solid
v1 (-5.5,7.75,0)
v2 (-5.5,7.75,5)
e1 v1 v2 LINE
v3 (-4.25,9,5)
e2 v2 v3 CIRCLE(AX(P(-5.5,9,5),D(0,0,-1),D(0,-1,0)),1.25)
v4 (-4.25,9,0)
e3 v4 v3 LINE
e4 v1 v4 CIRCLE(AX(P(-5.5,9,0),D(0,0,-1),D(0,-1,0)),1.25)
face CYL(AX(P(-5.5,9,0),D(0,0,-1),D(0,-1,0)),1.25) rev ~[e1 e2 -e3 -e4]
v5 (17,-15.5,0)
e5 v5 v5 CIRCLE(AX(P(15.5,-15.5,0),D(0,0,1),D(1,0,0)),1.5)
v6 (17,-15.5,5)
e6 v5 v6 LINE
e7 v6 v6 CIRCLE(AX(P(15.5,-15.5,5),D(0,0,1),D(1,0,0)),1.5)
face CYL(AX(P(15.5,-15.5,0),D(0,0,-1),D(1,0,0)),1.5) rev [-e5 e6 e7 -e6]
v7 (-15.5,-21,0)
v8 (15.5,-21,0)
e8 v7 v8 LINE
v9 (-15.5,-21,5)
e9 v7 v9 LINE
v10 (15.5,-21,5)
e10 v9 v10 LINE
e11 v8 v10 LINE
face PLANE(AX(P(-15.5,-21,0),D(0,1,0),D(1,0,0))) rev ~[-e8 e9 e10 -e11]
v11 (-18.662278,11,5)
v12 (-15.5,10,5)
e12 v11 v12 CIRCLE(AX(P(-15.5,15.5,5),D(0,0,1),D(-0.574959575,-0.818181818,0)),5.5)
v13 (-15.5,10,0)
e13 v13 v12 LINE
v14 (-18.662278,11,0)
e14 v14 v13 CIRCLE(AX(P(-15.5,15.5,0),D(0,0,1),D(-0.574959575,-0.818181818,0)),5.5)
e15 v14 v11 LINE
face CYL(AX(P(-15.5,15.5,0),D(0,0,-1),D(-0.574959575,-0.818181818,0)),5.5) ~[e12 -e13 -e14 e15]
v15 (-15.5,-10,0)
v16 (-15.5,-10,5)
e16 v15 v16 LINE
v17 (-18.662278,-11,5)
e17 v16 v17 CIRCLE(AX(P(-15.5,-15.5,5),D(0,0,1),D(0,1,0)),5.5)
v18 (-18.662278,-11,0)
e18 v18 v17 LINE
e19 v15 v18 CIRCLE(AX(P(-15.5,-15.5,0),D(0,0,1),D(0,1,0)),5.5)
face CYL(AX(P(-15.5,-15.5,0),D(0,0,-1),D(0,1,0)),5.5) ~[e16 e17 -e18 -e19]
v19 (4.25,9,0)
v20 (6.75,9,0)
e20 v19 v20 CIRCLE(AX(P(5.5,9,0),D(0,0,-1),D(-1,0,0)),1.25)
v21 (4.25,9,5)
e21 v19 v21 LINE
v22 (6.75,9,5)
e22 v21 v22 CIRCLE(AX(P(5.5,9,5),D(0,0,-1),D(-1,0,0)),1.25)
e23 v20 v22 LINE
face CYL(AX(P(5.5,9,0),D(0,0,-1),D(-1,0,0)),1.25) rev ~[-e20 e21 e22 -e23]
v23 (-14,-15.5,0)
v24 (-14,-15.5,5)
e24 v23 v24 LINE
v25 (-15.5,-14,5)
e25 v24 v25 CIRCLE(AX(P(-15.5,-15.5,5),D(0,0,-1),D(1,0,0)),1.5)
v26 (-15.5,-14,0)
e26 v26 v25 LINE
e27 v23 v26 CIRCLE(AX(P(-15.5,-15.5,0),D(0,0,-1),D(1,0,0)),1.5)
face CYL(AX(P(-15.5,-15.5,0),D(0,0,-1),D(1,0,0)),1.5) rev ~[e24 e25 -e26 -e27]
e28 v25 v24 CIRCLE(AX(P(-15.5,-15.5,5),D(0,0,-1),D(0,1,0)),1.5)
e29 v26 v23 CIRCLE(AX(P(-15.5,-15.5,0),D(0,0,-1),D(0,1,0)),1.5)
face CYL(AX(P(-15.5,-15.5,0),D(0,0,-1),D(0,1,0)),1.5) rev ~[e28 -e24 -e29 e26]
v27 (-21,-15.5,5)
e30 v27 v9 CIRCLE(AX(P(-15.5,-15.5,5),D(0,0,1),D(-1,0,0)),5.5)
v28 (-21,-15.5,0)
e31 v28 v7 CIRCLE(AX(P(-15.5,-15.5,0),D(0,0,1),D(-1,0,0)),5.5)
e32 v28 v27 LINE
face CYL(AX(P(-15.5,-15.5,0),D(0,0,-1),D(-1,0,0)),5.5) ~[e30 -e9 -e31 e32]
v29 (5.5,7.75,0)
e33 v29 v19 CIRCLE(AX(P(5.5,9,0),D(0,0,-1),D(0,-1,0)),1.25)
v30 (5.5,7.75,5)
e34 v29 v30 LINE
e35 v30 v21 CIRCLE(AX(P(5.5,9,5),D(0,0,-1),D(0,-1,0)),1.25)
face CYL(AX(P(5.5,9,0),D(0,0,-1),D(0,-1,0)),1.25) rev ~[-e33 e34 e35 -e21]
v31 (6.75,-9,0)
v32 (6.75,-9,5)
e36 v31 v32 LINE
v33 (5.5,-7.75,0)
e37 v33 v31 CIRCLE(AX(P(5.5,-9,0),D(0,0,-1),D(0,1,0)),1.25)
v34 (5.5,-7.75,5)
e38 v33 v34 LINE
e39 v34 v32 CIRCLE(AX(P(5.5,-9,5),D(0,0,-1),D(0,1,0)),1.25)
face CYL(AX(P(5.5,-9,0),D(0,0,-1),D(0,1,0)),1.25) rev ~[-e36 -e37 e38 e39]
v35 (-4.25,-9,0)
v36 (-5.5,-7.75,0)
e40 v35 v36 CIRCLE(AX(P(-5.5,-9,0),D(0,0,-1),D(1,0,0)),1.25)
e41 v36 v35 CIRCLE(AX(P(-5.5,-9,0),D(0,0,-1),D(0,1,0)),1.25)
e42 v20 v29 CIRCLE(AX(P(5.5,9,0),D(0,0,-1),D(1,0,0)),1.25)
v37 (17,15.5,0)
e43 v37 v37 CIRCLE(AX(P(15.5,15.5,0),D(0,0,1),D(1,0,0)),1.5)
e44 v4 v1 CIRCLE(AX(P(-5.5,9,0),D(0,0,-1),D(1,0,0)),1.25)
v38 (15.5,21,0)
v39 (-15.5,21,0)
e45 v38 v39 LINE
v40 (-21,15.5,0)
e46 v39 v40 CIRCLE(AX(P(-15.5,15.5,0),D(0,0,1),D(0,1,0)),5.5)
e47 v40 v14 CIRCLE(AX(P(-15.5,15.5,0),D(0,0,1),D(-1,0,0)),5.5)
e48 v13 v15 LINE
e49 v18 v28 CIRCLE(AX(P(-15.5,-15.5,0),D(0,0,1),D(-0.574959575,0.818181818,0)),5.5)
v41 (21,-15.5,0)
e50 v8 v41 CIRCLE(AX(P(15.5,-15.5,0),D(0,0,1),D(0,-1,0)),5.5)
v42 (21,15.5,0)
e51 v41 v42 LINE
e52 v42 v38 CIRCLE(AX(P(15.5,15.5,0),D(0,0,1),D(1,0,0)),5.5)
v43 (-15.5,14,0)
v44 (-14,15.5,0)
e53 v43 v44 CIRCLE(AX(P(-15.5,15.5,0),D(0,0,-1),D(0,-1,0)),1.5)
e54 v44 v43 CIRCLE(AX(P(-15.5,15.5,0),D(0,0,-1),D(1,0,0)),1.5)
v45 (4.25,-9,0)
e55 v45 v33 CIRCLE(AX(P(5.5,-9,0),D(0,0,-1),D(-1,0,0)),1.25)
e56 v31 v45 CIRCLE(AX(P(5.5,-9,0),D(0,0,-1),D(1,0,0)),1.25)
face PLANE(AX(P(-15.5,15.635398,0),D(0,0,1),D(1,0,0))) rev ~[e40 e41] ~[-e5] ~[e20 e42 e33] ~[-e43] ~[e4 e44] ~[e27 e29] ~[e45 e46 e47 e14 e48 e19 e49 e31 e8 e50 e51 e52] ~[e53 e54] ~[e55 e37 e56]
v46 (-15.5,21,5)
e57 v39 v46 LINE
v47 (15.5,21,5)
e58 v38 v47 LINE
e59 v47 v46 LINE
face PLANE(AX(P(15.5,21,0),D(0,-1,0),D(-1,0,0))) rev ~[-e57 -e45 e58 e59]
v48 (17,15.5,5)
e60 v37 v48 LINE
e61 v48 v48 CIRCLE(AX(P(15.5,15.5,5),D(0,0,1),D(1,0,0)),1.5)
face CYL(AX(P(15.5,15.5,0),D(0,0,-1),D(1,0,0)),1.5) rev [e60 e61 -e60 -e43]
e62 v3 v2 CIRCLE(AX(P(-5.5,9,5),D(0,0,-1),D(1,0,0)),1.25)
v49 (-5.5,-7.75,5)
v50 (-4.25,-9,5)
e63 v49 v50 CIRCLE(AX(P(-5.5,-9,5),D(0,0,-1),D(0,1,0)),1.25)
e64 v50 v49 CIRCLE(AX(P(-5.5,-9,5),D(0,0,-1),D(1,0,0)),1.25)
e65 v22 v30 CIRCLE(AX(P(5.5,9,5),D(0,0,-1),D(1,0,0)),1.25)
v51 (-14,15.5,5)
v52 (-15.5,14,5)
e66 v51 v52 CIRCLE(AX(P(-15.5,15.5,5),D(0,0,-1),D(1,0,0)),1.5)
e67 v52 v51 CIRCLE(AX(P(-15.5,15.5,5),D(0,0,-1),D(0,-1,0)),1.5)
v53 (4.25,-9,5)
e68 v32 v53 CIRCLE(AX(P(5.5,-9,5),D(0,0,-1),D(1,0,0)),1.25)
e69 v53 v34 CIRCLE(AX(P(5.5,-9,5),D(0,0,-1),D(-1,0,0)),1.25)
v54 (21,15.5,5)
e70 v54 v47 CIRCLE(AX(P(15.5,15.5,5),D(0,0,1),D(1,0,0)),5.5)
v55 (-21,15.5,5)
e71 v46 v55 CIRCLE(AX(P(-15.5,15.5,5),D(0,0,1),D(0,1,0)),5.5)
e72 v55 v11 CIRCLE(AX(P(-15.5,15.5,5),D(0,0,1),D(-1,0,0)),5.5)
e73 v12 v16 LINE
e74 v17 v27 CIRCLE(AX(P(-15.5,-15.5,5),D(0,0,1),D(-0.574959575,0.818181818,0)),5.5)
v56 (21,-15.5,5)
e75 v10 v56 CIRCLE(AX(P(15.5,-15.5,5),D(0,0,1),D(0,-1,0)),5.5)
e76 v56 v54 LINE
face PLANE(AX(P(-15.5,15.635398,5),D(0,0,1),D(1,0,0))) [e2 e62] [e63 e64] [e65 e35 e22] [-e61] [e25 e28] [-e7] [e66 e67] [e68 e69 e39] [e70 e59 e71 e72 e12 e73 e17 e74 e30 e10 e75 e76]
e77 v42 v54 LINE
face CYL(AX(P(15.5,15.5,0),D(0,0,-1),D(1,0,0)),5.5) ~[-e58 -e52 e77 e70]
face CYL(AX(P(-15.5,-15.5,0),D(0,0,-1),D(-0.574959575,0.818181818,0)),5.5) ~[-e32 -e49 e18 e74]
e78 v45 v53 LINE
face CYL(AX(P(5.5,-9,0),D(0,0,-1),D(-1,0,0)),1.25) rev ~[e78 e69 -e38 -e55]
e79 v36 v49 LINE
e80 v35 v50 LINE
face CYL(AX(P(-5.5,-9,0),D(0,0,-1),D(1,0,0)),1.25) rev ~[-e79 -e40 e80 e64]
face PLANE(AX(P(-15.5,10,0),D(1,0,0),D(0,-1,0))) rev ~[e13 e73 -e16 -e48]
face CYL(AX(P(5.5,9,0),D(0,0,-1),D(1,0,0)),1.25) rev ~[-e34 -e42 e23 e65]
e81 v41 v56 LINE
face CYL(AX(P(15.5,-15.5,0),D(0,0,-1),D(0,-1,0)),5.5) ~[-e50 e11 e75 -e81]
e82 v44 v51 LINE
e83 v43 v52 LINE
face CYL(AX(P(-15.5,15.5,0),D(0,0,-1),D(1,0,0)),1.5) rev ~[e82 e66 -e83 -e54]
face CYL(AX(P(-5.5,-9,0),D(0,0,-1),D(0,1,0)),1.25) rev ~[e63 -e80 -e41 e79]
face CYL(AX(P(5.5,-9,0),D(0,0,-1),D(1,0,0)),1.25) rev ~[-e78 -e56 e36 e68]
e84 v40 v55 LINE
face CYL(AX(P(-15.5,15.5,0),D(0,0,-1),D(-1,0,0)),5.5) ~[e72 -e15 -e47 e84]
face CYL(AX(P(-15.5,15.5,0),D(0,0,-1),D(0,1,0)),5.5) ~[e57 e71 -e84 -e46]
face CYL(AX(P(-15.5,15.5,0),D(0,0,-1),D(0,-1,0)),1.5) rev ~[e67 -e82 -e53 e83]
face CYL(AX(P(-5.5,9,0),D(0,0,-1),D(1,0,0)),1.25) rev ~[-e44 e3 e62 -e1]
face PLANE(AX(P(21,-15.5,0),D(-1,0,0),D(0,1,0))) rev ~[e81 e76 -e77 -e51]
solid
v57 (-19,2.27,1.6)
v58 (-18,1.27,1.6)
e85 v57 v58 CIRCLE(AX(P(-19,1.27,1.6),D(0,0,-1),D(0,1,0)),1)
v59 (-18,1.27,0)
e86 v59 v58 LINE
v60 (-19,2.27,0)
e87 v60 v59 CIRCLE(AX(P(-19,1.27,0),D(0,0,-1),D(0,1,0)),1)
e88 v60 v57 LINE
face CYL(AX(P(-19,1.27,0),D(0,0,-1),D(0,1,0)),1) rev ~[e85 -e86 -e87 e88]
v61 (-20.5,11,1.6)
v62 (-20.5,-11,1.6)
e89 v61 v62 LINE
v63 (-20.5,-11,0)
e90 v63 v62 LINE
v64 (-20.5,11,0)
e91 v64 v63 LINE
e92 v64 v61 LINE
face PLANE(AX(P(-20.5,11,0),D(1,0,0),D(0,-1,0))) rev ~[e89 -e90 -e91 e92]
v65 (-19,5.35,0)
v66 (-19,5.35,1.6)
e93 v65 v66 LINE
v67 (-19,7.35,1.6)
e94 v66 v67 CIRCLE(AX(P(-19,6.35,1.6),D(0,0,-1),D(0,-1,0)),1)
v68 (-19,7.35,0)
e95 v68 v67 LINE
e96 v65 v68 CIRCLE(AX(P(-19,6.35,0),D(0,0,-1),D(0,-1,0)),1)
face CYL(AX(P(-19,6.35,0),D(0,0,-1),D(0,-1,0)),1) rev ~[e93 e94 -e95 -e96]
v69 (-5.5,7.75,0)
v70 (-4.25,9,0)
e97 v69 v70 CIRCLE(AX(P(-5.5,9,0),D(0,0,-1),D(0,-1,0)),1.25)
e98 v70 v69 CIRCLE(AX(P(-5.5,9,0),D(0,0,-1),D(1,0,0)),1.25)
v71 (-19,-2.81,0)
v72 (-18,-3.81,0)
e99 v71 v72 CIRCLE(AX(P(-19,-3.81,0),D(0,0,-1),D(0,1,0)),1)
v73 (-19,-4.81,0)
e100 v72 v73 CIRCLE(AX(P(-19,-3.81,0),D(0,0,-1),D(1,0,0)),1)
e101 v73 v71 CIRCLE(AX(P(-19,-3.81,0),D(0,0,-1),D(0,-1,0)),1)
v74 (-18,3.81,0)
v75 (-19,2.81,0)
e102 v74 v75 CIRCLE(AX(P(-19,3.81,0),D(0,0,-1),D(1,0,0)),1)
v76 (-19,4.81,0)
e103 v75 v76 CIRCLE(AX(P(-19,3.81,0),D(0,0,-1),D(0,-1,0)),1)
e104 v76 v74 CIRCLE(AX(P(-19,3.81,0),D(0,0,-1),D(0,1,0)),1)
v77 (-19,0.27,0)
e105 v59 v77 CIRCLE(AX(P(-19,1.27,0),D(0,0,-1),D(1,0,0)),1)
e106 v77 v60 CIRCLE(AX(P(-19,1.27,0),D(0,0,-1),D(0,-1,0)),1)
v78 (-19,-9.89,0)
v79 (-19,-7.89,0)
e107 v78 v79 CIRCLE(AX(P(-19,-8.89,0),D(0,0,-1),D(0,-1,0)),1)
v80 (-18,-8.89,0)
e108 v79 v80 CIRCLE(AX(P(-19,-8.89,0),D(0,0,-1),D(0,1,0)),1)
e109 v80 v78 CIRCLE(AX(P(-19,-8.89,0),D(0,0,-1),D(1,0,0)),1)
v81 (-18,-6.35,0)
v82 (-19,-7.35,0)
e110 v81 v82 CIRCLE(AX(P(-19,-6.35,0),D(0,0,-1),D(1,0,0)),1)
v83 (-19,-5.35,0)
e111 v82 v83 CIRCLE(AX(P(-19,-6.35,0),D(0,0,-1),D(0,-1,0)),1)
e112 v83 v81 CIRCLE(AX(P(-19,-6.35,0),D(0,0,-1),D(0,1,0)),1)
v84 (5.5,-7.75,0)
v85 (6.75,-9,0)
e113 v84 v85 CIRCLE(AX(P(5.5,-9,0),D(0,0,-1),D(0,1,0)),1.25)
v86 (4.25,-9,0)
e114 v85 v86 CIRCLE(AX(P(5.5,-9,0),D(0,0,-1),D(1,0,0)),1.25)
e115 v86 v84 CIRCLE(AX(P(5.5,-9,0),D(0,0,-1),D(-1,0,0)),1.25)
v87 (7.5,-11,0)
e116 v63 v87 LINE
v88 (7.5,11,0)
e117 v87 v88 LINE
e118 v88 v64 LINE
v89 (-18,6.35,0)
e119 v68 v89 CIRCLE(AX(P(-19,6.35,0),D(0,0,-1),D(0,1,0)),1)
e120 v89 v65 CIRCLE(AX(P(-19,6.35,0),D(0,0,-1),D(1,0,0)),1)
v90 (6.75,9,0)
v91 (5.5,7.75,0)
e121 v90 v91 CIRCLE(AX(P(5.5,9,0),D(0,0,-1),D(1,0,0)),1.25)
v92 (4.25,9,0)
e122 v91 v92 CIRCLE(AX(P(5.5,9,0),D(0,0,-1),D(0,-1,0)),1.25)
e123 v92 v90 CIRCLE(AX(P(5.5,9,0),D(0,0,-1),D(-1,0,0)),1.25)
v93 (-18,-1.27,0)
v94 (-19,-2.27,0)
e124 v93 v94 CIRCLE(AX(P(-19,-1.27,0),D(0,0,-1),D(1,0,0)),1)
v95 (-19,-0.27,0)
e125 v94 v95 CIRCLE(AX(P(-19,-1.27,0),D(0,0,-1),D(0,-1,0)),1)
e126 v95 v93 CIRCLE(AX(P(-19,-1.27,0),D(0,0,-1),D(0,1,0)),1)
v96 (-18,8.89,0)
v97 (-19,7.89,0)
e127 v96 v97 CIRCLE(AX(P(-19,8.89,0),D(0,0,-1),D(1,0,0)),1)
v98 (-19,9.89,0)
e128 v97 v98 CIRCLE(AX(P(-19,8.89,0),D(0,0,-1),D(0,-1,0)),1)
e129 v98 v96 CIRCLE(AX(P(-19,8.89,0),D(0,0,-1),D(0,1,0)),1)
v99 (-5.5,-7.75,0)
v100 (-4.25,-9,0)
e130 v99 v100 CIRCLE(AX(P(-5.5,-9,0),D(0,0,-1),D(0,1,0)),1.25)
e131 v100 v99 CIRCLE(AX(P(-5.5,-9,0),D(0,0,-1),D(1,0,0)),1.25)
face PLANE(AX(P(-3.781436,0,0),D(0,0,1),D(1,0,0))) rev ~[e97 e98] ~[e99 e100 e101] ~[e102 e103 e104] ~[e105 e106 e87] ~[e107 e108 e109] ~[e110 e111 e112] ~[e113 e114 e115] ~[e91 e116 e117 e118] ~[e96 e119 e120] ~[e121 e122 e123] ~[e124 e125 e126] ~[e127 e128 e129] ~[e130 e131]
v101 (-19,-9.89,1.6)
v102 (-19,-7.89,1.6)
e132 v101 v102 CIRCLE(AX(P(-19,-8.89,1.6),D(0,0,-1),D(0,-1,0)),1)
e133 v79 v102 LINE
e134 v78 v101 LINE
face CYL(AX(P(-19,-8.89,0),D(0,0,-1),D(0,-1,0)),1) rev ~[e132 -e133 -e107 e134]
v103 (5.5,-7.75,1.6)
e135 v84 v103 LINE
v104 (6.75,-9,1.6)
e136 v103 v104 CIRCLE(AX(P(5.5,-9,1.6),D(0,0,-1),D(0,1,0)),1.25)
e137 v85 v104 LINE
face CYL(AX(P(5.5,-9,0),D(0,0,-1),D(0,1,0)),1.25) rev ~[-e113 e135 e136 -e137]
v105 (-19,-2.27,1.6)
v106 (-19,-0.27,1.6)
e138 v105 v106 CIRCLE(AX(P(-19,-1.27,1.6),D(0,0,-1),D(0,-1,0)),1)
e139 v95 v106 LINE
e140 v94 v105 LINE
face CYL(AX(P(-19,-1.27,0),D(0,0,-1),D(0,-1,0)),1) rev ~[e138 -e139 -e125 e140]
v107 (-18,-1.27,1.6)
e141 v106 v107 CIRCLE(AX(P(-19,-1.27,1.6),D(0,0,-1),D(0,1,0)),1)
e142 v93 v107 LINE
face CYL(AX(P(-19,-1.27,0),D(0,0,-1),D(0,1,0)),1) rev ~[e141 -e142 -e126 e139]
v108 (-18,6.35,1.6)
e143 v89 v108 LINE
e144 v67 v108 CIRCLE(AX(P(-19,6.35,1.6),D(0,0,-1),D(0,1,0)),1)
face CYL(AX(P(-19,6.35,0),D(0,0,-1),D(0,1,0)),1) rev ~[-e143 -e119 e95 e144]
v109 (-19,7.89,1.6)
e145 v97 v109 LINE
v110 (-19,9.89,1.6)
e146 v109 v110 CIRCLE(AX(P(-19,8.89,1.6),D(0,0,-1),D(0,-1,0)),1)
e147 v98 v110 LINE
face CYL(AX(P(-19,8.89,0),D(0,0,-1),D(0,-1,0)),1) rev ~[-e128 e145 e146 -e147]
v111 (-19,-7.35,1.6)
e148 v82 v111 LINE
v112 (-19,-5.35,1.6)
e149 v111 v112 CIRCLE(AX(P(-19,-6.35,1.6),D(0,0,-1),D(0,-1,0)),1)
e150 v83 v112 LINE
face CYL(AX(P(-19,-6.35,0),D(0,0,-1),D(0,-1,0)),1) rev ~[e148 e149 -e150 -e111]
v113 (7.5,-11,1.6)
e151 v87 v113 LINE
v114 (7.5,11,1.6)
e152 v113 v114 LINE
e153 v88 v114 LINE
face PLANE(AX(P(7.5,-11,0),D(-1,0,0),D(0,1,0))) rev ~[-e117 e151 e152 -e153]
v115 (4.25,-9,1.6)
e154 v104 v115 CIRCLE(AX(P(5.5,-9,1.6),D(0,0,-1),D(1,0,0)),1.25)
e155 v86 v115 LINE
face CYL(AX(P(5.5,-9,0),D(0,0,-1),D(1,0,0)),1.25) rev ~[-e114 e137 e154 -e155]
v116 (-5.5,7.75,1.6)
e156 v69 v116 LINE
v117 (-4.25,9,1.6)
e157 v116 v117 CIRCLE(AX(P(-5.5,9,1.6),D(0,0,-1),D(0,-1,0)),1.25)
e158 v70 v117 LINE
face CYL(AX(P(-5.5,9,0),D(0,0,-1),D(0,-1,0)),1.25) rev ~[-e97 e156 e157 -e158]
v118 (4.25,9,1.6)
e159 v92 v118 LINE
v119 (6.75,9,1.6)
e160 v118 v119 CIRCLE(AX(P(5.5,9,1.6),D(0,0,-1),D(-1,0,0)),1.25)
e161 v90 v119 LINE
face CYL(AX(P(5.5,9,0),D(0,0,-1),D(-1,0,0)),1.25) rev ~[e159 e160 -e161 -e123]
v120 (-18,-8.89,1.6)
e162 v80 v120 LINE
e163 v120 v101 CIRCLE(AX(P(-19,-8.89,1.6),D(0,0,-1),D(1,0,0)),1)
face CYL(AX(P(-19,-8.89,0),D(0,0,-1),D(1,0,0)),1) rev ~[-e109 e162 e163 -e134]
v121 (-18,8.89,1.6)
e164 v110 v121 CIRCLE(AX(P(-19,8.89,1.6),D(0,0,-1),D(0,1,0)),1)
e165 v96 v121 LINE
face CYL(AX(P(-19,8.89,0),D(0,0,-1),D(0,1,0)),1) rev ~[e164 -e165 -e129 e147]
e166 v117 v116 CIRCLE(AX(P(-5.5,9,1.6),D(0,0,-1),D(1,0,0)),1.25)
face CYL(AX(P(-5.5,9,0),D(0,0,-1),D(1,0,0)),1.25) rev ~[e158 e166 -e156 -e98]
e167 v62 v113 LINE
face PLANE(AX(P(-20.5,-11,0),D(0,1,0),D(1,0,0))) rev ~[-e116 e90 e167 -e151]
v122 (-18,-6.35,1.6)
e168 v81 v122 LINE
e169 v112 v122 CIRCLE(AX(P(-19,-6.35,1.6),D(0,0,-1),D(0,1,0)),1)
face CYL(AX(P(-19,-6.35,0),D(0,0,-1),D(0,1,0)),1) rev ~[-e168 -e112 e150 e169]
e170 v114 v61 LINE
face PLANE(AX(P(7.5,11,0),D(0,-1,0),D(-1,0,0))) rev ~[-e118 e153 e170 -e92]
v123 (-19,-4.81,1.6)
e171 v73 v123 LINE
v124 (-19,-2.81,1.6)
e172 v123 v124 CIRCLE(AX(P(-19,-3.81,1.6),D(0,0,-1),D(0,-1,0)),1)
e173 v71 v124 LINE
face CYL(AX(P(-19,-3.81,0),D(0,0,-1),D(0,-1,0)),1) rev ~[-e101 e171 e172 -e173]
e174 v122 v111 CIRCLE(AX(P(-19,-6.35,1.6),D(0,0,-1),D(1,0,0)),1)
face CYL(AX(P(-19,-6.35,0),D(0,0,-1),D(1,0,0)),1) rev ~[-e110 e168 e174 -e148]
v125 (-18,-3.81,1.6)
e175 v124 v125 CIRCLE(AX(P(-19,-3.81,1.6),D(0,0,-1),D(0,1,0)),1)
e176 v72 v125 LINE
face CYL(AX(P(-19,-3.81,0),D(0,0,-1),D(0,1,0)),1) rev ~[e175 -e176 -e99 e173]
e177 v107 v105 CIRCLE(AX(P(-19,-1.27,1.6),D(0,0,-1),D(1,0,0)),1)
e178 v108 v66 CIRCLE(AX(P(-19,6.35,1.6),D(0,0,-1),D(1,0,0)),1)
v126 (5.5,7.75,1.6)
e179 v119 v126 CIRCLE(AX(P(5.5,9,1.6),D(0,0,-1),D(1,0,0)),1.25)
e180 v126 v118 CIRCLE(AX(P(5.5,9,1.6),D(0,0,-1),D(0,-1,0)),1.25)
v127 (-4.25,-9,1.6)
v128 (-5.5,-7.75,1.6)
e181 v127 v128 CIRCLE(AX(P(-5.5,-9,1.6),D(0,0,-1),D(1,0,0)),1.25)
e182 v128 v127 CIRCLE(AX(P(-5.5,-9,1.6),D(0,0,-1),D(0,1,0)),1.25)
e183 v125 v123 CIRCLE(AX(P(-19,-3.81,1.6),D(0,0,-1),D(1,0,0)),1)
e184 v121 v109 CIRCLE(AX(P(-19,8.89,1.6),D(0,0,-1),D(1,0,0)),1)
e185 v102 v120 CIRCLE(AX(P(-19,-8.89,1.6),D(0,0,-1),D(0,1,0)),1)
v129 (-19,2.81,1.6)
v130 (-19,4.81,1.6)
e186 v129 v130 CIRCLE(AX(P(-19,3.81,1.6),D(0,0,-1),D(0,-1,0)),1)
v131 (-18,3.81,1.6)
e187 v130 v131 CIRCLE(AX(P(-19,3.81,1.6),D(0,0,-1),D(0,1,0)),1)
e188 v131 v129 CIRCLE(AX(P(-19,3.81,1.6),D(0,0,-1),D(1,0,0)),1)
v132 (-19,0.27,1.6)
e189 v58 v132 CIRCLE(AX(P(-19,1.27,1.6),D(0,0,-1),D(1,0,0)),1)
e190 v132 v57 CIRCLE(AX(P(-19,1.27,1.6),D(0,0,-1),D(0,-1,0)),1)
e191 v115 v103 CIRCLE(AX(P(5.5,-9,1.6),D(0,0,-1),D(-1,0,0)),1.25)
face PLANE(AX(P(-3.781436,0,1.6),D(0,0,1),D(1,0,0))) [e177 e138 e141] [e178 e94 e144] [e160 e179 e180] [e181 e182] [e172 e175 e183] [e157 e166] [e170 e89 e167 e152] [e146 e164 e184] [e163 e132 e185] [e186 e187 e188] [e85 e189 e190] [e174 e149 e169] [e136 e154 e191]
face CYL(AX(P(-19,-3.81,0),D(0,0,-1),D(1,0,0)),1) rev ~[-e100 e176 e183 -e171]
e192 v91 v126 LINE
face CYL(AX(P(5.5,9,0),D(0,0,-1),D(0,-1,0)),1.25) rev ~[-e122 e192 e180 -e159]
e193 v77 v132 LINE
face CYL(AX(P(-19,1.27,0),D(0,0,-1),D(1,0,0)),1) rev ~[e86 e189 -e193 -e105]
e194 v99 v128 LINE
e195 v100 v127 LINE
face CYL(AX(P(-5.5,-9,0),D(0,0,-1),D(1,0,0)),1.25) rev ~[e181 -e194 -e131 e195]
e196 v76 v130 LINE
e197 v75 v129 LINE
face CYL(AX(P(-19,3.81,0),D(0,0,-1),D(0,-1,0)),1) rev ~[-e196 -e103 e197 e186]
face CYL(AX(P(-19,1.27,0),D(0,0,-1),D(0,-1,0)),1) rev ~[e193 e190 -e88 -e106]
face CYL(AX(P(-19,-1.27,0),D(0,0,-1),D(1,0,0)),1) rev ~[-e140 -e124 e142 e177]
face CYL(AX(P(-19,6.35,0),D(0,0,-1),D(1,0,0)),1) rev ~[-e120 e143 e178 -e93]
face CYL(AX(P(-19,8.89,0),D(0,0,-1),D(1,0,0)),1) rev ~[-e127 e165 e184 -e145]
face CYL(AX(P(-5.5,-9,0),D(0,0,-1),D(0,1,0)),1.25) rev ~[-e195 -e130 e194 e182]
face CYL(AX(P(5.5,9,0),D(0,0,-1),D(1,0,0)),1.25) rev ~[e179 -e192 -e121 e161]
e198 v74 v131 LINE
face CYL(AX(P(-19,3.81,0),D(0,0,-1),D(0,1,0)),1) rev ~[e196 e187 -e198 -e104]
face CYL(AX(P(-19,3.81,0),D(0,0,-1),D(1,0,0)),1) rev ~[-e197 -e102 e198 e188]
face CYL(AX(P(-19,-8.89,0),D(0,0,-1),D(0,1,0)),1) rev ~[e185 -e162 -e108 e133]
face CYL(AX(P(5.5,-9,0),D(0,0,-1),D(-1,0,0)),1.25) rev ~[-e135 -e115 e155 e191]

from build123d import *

# Parameters (mm, degrees)
F0_R     = 1.5
F1_DEPTH = 5
F2_DEPTH = 1.6


with BuildPart() as f1:
    # F0 (on Top) → F1 (new body)
    with BuildSketch(Plane.XY):
        with BuildLine():
            ThreePointArc((-15.5, 21), (-19.3890872965, 19.3890872965), (-21, 15.5))
            ThreePointArc((-21, 15.5), (-20.3807031835, 12.9645046964), (-18.6622776602, 11))
            Line((-18.6622776602, 11), (-15.5, 11))
            Line((-15.5, 11), (-12.3377223398, 11))
            ThreePointArc((-12.3377223398, 11), (-10.6192968165, 12.9645046964), (-10, 15.5))
            ThreePointArc((-10, 15.5), (-11.6109127035, 19.3890872965), (-15.5, 21))
        make_face()
        with BuildLine():
            ThreePointArc((-14, 15.5), (-14.4393398282, 14.4393398282), (-15.5, 14))
            ThreePointArc((-15.5, 14), (-16.5606601718, 16.5606601718), (-14, 15.5))
        make_face(mode=Mode.SUBTRACT)
        with BuildLine():
            ThreePointArc((-21, -15.5), (-19.3890872965, -19.3890872965), (-15.5, -21))
            ThreePointArc((-15.5, -21), (-11.6109127035, -19.3890872965), (-10, -15.5))
            ThreePointArc((-10, -15.5), (-10.6192968165, -12.9645046964), (-12.3377223398, -11))
            Line((-12.3377223398, -11), (-15.5, -11))
            Line((-15.5, -11), (-18.6622776602, -11))
            ThreePointArc((-18.6622776602, -11), (-20.3807031835, -12.9645046964), (-21, -15.5))
        make_face()
        with BuildLine():
            ThreePointArc((-14, -15.5), (-16.5606601718, -16.5606601718), (-15.5, -14))
            ThreePointArc((-15.5, -14), (-14.4393398282, -14.4393398282), (-14, -15.5))
        make_face(mode=Mode.SUBTRACT)
        with BuildLine():
            Line((-15.5, -21), (15.5, -21))
            ThreePointArc((15.5, -21), (19.3890872965, -19.3890872965), (21, -15.5))
            Line((21, -15.5), (21, 15.5))
            ThreePointArc((21, 15.5), (19.3890872965, 19.3890872965), (15.5, 21))
            Line((15.5, 21), (-15.5, 21))
            ThreePointArc((-15.5, 21), (-11.6109127035, 19.3890872965), (-10, 15.5))
            ThreePointArc((-10, 15.5), (-10.6192968165, 12.9645046964), (-12.3377223398, 11))
            Line((-12.3377223398, 11), (7.5, 11))
            Line((7.5, 11), (7.5, -11))
            Line((7.5, -11), (-12.3377223398, -11))
            ThreePointArc((-12.3377223398, -11), (-10.6192968165, -12.9645046964), (-10, -15.5))
            ThreePointArc((-10, -15.5), (-11.6109127035, -19.3890872965), (-15.5, -21))
        make_face()
        with Locations((15.5, -15.5)):
            Circle(F0_R, mode=Mode.SUBTRACT)
        with Locations((15.5, 15.5)):
            Circle(F0_R, mode=Mode.SUBTRACT)
        with BuildLine():
            ThreePointArc((-15.5, -10), (-13.8416876048, -10.2559557591), (-12.3377223398, -11))
            Line((-12.3377223398, -11), (7.5, -11))
            Line((7.5, -11), (7.5, 11))
            Line((7.5, 11), (-12.3377223398, 11))
            ThreePointArc((-12.3377223398, 11), (-13.8416876048, 10.2559557591), (-15.5, 10))
            Line((-15.5, 10), (-15.5, -10))
        make_face()
        with BuildLine():
            ThreePointArc((-5.5, 7.75), (-6.3838834765, 9.8838834765), (-4.25, 9))
            Line((-4.25, 9), (4.25, 9))
            ThreePointArc((4.25, 9), (5.5, 10.25), (6.75, 9))
            ThreePointArc((6.75, 9), (6.3838834765, 8.1161165235), (5.5, 7.75))
            Line((5.5, 7.75), (5.5, -7.75))
            ThreePointArc((5.5, -7.75), (6.3838834765, -8.1161165235), (6.75, -9))
            ThreePointArc((6.75, -9), (5.5, -10.25), (4.25, -9))
            Line((4.25, -9), (-4.25, -9))
            ThreePointArc((-4.25, -9), (-6.3838834765, -9.8838834765), (-5.5, -7.75))
            Line((-5.5, -7.75), (-5.5, 7.75))
        make_face(mode=Mode.SUBTRACT)
        with BuildLine():
            Line((-12.3377223398, 11), (-15.5, 11))
            Line((-15.5, 11), (-15.5, 10))
            ThreePointArc((-15.5, 10), (-13.8416876048, 10.2559557591), (-12.3377223398, 11))
        make_face()
        with BuildLine():
            Line((-15.5, -11), (-12.3377223398, -11))
            ThreePointArc((-12.3377223398, -11), (-13.8416876048, -10.2559557591), (-15.5, -10))
            Line((-15.5, -10), (-15.5, -11))
        make_face()
        with BuildLine():
            Line((-15.5, 11), (-18.6622776602, 11))
            ThreePointArc((-18.6622776602, 11), (-17.1583123952, 10.2559557591), (-15.5, 10))
            Line((-15.5, 10), (-15.5, 11))
        make_face()
        with BuildLine():
            ThreePointArc((-15.5, -10), (-17.1583123952, -10.2559557591), (-18.6622776602, -11))
            Line((-18.6622776602, -11), (-15.5, -11))
            Line((-15.5, -11), (-15.5, -10))
        make_face()
        with BuildLine():
            Line((4.25, 9), (-4.25, 9))
            ThreePointArc((-4.25, 9), (-4.6161165235, 8.1161165235), (-5.5, 7.75))
            Line((-5.5, 7.75), (-5.5, -7.75))
            ThreePointArc((-5.5, -7.75), (-4.6161165235, -8.1161165235), (-4.25, -9))
            Line((-4.25, -9), (4.25, -9))
            ThreePointArc((4.25, -9), (4.6161165235, -8.1161165235), (5.5, -7.75))
            Line((5.5, -7.75), (5.5, 7.75))
            ThreePointArc((5.5, 7.75), (4.6161165235, 8.1161165235), (4.25, 9))
        make_face()
    extrude(amount=F1_DEPTH)


with BuildPart() as f2:
    # F0 (on Top) → F2 (new body)
    with BuildSketch(Plane.XY):
        with BuildLine():
            ThreePointArc((-15.5, -10), (-13.8416876048, -10.2559557591), (-12.3377223398, -11))
            Line((-12.3377223398, -11), (7.5, -11))
            Line((7.5, -11), (7.5, 11))
            Line((7.5, 11), (-12.3377223398, 11))
            ThreePointArc((-12.3377223398, 11), (-13.8416876048, 10.2559557591), (-15.5, 10))
            Line((-15.5, 10), (-15.5, -10))
        make_face()
        with BuildLine():
            ThreePointArc((-5.5, 7.75), (-6.3838834765, 9.8838834765), (-4.25, 9))
            Line((-4.25, 9), (4.25, 9))
            ThreePointArc((4.25, 9), (5.5, 10.25), (6.75, 9))
            ThreePointArc((6.75, 9), (6.3838834765, 8.1161165235), (5.5, 7.75))
            Line((5.5, 7.75), (5.5, -7.75))
            ThreePointArc((5.5, -7.75), (6.3838834765, -8.1161165235), (6.75, -9))
            ThreePointArc((6.75, -9), (5.5, -10.25), (4.25, -9))
            Line((4.25, -9), (-4.25, -9))
            ThreePointArc((-4.25, -9), (-6.3838834765, -9.8838834765), (-5.5, -7.75))
            Line((-5.5, -7.75), (-5.5, 7.75))
        make_face(mode=Mode.SUBTRACT)
        with BuildLine():
            Line((4.25, 9), (-4.25, 9))
            ThreePointArc((-4.25, 9), (-4.6161165235, 8.1161165235), (-5.5, 7.75))
            Line((-5.5, 7.75), (-5.5, -7.75))
            ThreePointArc((-5.5, -7.75), (-4.6161165235, -8.1161165235), (-4.25, -9))
            Line((-4.25, -9), (4.25, -9))
            ThreePointArc((4.25, -9), (4.6161165235, -8.1161165235), (5.5, -7.75))
            Line((5.5, -7.75), (5.5, 7.75))
            ThreePointArc((5.5, 7.75), (4.6161165235, 8.1161165235), (4.25, 9))
        make_face()
        with BuildLine():
            Line((-19, -11), (-18.6622776602, -11))
            ThreePointArc((-18.6622776602, -11), (-17.1583123952, -10.2559557591), (-15.5, -10))
            Line((-15.5, -10), (-15.5, 10))
            ThreePointArc((-15.5, 10), (-17.1583123952, 10.2559557591), (-18.6622776602, 11))
            Line((-18.6622776602, 11), (-19, 11))
            Line((-19, 11), (-19, 9.89))
            ThreePointArc((-19, 9.89), (-18.2928932188, 9.5971067812), (-18, 8.89))
            ThreePointArc((-18, 8.89), (-18.2928932188, 8.1828932188), (-19, 7.89))
            Line((-19, 7.89), (-19, 7.35))
            ThreePointArc((-19, 7.35), (-18.2928932188, 7.0571067812), (-18, 6.35))
            ThreePointArc((-18, 6.35), (-18.2928932188, 5.6428932188), (-19, 5.35))
            Line((-19, 5.35), (-19, 4.81))
            ThreePointArc((-19, 4.81), (-18.2928932188, 4.5171067812), (-18, 3.81))
            ThreePointArc((-18, 3.81), (-18.2928932188, 3.1028932188), (-19, 2.81))
            Line((-19, 2.81), (-19, 2.27))
            ThreePointArc((-19, 2.27), (-18.2928932188, 1.9771067812), (-18, 1.27))
            ThreePointArc((-18, 1.27), (-18.2928932188, 0.5628932188), (-19, 0.27))
            Line((-19, 0.27), (-19, -0.27))
            ThreePointArc((-19, -0.27), (-18.2928932188, -0.5628932188), (-18, -1.27))
            ThreePointArc((-18, -1.27), (-18.2928932188, -1.9771067812), (-19, -2.27))
            Line((-19, -2.27), (-19, -2.81))
            ThreePointArc((-19, -2.81), (-18.2928932188, -3.1028932188), (-18, -3.81))
            ThreePointArc((-18, -3.81), (-18.2928932188, -4.5171067812), (-19, -4.81))
            Line((-19, -4.81), (-19, -5.35))
            ThreePointArc((-19, -5.35), (-18.2928932188, -5.6428932188), (-18, -6.35))
            ThreePointArc((-18, -6.35), (-18.2928932188, -7.0571067812), (-19, -7.35))
            Line((-19, -7.35), (-19, -7.89))
            ThreePointArc((-19, -7.89), (-18.2928932188, -8.1828932188), (-18, -8.89))
            ThreePointArc((-18, -8.89), (-18.2928932188, -9.5971067812), (-19, -9.89))
            Line((-19, -9.89), (-19, -11))
        make_face()
        with BuildLine():
            Line((-20.5, -11), (-19, -11))
            Line((-19, -11), (-19, -9.89))
            ThreePointArc((-19, -9.89), (-20, -8.89), (-19, -7.89))
            Line((-19, -7.89), (-19, -7.35))
            ThreePointArc((-19, -7.35), (-20, -6.35), (-19, -5.35))
            Line((-19, -5.35), (-19, -4.81))
            ThreePointArc((-19, -4.81), (-20, -3.81), (-19, -2.81))
            Line((-19, -2.81), (-19, -2.27))
            ThreePointArc((-19, -2.27), (-20, -1.27), (-19, -0.27))
            Line((-19, -0.27), (-19, 0.27))
            ThreePointArc((-19, 0.27), (-20, 1.27), (-19, 2.27))
            Line((-19, 2.27), (-19, 2.81))
            ThreePointArc((-19, 2.81), (-20, 3.81), (-19, 4.81))
            Line((-19, 4.81), (-19, 5.35))
            ThreePointArc((-19, 5.35), (-20, 6.35), (-19, 7.35))
            Line((-19, 7.35), (-19, 7.89))
            ThreePointArc((-19, 7.89), (-20, 8.89), (-19, 9.89))
            Line((-19, 9.89), (-19, 11))
            Line((-19, 11), (-20.5, 11))
            Line((-20.5, 11), (-20.5, -11))
        make_face()
        with BuildLine():
            ThreePointArc((-15.5, -10), (-17.1583123952, -10.2559557591), (-18.6622776602, -11))
            Line((-18.6622776602, -11), (-15.5, -11))
            Line((-15.5, -11), (-15.5, -10))
        make_face()
        with BuildLine():
            Line((-15.5, -11), (-12.3377223398, -11))
            ThreePointArc((-12.3377223398, -11), (-13.8416876048, -10.2559557591), (-15.5, -10))
            Line((-15.5, -10), (-15.5, -11))
        make_face()
        with BuildLine():
            Line((-15.5, 11), (-18.6622776602, 11))
            ThreePointArc((-18.6622776602, 11), (-17.1583123952, 10.2559557591), (-15.5, 10))
            Line((-15.5, 10), (-15.5, 11))
        make_face()
        with BuildLine():
            Line((-12.3377223398, 11), (-15.5, 11))
            Line((-15.5, 11), (-15.5, 10))
            ThreePointArc((-15.5, 10), (-13.8416876048, 10.2559557591), (-12.3377223398, 11))
        make_face()
    extrude(amount=F2_DEPTH)


solid = Compound([f1.part, f2.part])
